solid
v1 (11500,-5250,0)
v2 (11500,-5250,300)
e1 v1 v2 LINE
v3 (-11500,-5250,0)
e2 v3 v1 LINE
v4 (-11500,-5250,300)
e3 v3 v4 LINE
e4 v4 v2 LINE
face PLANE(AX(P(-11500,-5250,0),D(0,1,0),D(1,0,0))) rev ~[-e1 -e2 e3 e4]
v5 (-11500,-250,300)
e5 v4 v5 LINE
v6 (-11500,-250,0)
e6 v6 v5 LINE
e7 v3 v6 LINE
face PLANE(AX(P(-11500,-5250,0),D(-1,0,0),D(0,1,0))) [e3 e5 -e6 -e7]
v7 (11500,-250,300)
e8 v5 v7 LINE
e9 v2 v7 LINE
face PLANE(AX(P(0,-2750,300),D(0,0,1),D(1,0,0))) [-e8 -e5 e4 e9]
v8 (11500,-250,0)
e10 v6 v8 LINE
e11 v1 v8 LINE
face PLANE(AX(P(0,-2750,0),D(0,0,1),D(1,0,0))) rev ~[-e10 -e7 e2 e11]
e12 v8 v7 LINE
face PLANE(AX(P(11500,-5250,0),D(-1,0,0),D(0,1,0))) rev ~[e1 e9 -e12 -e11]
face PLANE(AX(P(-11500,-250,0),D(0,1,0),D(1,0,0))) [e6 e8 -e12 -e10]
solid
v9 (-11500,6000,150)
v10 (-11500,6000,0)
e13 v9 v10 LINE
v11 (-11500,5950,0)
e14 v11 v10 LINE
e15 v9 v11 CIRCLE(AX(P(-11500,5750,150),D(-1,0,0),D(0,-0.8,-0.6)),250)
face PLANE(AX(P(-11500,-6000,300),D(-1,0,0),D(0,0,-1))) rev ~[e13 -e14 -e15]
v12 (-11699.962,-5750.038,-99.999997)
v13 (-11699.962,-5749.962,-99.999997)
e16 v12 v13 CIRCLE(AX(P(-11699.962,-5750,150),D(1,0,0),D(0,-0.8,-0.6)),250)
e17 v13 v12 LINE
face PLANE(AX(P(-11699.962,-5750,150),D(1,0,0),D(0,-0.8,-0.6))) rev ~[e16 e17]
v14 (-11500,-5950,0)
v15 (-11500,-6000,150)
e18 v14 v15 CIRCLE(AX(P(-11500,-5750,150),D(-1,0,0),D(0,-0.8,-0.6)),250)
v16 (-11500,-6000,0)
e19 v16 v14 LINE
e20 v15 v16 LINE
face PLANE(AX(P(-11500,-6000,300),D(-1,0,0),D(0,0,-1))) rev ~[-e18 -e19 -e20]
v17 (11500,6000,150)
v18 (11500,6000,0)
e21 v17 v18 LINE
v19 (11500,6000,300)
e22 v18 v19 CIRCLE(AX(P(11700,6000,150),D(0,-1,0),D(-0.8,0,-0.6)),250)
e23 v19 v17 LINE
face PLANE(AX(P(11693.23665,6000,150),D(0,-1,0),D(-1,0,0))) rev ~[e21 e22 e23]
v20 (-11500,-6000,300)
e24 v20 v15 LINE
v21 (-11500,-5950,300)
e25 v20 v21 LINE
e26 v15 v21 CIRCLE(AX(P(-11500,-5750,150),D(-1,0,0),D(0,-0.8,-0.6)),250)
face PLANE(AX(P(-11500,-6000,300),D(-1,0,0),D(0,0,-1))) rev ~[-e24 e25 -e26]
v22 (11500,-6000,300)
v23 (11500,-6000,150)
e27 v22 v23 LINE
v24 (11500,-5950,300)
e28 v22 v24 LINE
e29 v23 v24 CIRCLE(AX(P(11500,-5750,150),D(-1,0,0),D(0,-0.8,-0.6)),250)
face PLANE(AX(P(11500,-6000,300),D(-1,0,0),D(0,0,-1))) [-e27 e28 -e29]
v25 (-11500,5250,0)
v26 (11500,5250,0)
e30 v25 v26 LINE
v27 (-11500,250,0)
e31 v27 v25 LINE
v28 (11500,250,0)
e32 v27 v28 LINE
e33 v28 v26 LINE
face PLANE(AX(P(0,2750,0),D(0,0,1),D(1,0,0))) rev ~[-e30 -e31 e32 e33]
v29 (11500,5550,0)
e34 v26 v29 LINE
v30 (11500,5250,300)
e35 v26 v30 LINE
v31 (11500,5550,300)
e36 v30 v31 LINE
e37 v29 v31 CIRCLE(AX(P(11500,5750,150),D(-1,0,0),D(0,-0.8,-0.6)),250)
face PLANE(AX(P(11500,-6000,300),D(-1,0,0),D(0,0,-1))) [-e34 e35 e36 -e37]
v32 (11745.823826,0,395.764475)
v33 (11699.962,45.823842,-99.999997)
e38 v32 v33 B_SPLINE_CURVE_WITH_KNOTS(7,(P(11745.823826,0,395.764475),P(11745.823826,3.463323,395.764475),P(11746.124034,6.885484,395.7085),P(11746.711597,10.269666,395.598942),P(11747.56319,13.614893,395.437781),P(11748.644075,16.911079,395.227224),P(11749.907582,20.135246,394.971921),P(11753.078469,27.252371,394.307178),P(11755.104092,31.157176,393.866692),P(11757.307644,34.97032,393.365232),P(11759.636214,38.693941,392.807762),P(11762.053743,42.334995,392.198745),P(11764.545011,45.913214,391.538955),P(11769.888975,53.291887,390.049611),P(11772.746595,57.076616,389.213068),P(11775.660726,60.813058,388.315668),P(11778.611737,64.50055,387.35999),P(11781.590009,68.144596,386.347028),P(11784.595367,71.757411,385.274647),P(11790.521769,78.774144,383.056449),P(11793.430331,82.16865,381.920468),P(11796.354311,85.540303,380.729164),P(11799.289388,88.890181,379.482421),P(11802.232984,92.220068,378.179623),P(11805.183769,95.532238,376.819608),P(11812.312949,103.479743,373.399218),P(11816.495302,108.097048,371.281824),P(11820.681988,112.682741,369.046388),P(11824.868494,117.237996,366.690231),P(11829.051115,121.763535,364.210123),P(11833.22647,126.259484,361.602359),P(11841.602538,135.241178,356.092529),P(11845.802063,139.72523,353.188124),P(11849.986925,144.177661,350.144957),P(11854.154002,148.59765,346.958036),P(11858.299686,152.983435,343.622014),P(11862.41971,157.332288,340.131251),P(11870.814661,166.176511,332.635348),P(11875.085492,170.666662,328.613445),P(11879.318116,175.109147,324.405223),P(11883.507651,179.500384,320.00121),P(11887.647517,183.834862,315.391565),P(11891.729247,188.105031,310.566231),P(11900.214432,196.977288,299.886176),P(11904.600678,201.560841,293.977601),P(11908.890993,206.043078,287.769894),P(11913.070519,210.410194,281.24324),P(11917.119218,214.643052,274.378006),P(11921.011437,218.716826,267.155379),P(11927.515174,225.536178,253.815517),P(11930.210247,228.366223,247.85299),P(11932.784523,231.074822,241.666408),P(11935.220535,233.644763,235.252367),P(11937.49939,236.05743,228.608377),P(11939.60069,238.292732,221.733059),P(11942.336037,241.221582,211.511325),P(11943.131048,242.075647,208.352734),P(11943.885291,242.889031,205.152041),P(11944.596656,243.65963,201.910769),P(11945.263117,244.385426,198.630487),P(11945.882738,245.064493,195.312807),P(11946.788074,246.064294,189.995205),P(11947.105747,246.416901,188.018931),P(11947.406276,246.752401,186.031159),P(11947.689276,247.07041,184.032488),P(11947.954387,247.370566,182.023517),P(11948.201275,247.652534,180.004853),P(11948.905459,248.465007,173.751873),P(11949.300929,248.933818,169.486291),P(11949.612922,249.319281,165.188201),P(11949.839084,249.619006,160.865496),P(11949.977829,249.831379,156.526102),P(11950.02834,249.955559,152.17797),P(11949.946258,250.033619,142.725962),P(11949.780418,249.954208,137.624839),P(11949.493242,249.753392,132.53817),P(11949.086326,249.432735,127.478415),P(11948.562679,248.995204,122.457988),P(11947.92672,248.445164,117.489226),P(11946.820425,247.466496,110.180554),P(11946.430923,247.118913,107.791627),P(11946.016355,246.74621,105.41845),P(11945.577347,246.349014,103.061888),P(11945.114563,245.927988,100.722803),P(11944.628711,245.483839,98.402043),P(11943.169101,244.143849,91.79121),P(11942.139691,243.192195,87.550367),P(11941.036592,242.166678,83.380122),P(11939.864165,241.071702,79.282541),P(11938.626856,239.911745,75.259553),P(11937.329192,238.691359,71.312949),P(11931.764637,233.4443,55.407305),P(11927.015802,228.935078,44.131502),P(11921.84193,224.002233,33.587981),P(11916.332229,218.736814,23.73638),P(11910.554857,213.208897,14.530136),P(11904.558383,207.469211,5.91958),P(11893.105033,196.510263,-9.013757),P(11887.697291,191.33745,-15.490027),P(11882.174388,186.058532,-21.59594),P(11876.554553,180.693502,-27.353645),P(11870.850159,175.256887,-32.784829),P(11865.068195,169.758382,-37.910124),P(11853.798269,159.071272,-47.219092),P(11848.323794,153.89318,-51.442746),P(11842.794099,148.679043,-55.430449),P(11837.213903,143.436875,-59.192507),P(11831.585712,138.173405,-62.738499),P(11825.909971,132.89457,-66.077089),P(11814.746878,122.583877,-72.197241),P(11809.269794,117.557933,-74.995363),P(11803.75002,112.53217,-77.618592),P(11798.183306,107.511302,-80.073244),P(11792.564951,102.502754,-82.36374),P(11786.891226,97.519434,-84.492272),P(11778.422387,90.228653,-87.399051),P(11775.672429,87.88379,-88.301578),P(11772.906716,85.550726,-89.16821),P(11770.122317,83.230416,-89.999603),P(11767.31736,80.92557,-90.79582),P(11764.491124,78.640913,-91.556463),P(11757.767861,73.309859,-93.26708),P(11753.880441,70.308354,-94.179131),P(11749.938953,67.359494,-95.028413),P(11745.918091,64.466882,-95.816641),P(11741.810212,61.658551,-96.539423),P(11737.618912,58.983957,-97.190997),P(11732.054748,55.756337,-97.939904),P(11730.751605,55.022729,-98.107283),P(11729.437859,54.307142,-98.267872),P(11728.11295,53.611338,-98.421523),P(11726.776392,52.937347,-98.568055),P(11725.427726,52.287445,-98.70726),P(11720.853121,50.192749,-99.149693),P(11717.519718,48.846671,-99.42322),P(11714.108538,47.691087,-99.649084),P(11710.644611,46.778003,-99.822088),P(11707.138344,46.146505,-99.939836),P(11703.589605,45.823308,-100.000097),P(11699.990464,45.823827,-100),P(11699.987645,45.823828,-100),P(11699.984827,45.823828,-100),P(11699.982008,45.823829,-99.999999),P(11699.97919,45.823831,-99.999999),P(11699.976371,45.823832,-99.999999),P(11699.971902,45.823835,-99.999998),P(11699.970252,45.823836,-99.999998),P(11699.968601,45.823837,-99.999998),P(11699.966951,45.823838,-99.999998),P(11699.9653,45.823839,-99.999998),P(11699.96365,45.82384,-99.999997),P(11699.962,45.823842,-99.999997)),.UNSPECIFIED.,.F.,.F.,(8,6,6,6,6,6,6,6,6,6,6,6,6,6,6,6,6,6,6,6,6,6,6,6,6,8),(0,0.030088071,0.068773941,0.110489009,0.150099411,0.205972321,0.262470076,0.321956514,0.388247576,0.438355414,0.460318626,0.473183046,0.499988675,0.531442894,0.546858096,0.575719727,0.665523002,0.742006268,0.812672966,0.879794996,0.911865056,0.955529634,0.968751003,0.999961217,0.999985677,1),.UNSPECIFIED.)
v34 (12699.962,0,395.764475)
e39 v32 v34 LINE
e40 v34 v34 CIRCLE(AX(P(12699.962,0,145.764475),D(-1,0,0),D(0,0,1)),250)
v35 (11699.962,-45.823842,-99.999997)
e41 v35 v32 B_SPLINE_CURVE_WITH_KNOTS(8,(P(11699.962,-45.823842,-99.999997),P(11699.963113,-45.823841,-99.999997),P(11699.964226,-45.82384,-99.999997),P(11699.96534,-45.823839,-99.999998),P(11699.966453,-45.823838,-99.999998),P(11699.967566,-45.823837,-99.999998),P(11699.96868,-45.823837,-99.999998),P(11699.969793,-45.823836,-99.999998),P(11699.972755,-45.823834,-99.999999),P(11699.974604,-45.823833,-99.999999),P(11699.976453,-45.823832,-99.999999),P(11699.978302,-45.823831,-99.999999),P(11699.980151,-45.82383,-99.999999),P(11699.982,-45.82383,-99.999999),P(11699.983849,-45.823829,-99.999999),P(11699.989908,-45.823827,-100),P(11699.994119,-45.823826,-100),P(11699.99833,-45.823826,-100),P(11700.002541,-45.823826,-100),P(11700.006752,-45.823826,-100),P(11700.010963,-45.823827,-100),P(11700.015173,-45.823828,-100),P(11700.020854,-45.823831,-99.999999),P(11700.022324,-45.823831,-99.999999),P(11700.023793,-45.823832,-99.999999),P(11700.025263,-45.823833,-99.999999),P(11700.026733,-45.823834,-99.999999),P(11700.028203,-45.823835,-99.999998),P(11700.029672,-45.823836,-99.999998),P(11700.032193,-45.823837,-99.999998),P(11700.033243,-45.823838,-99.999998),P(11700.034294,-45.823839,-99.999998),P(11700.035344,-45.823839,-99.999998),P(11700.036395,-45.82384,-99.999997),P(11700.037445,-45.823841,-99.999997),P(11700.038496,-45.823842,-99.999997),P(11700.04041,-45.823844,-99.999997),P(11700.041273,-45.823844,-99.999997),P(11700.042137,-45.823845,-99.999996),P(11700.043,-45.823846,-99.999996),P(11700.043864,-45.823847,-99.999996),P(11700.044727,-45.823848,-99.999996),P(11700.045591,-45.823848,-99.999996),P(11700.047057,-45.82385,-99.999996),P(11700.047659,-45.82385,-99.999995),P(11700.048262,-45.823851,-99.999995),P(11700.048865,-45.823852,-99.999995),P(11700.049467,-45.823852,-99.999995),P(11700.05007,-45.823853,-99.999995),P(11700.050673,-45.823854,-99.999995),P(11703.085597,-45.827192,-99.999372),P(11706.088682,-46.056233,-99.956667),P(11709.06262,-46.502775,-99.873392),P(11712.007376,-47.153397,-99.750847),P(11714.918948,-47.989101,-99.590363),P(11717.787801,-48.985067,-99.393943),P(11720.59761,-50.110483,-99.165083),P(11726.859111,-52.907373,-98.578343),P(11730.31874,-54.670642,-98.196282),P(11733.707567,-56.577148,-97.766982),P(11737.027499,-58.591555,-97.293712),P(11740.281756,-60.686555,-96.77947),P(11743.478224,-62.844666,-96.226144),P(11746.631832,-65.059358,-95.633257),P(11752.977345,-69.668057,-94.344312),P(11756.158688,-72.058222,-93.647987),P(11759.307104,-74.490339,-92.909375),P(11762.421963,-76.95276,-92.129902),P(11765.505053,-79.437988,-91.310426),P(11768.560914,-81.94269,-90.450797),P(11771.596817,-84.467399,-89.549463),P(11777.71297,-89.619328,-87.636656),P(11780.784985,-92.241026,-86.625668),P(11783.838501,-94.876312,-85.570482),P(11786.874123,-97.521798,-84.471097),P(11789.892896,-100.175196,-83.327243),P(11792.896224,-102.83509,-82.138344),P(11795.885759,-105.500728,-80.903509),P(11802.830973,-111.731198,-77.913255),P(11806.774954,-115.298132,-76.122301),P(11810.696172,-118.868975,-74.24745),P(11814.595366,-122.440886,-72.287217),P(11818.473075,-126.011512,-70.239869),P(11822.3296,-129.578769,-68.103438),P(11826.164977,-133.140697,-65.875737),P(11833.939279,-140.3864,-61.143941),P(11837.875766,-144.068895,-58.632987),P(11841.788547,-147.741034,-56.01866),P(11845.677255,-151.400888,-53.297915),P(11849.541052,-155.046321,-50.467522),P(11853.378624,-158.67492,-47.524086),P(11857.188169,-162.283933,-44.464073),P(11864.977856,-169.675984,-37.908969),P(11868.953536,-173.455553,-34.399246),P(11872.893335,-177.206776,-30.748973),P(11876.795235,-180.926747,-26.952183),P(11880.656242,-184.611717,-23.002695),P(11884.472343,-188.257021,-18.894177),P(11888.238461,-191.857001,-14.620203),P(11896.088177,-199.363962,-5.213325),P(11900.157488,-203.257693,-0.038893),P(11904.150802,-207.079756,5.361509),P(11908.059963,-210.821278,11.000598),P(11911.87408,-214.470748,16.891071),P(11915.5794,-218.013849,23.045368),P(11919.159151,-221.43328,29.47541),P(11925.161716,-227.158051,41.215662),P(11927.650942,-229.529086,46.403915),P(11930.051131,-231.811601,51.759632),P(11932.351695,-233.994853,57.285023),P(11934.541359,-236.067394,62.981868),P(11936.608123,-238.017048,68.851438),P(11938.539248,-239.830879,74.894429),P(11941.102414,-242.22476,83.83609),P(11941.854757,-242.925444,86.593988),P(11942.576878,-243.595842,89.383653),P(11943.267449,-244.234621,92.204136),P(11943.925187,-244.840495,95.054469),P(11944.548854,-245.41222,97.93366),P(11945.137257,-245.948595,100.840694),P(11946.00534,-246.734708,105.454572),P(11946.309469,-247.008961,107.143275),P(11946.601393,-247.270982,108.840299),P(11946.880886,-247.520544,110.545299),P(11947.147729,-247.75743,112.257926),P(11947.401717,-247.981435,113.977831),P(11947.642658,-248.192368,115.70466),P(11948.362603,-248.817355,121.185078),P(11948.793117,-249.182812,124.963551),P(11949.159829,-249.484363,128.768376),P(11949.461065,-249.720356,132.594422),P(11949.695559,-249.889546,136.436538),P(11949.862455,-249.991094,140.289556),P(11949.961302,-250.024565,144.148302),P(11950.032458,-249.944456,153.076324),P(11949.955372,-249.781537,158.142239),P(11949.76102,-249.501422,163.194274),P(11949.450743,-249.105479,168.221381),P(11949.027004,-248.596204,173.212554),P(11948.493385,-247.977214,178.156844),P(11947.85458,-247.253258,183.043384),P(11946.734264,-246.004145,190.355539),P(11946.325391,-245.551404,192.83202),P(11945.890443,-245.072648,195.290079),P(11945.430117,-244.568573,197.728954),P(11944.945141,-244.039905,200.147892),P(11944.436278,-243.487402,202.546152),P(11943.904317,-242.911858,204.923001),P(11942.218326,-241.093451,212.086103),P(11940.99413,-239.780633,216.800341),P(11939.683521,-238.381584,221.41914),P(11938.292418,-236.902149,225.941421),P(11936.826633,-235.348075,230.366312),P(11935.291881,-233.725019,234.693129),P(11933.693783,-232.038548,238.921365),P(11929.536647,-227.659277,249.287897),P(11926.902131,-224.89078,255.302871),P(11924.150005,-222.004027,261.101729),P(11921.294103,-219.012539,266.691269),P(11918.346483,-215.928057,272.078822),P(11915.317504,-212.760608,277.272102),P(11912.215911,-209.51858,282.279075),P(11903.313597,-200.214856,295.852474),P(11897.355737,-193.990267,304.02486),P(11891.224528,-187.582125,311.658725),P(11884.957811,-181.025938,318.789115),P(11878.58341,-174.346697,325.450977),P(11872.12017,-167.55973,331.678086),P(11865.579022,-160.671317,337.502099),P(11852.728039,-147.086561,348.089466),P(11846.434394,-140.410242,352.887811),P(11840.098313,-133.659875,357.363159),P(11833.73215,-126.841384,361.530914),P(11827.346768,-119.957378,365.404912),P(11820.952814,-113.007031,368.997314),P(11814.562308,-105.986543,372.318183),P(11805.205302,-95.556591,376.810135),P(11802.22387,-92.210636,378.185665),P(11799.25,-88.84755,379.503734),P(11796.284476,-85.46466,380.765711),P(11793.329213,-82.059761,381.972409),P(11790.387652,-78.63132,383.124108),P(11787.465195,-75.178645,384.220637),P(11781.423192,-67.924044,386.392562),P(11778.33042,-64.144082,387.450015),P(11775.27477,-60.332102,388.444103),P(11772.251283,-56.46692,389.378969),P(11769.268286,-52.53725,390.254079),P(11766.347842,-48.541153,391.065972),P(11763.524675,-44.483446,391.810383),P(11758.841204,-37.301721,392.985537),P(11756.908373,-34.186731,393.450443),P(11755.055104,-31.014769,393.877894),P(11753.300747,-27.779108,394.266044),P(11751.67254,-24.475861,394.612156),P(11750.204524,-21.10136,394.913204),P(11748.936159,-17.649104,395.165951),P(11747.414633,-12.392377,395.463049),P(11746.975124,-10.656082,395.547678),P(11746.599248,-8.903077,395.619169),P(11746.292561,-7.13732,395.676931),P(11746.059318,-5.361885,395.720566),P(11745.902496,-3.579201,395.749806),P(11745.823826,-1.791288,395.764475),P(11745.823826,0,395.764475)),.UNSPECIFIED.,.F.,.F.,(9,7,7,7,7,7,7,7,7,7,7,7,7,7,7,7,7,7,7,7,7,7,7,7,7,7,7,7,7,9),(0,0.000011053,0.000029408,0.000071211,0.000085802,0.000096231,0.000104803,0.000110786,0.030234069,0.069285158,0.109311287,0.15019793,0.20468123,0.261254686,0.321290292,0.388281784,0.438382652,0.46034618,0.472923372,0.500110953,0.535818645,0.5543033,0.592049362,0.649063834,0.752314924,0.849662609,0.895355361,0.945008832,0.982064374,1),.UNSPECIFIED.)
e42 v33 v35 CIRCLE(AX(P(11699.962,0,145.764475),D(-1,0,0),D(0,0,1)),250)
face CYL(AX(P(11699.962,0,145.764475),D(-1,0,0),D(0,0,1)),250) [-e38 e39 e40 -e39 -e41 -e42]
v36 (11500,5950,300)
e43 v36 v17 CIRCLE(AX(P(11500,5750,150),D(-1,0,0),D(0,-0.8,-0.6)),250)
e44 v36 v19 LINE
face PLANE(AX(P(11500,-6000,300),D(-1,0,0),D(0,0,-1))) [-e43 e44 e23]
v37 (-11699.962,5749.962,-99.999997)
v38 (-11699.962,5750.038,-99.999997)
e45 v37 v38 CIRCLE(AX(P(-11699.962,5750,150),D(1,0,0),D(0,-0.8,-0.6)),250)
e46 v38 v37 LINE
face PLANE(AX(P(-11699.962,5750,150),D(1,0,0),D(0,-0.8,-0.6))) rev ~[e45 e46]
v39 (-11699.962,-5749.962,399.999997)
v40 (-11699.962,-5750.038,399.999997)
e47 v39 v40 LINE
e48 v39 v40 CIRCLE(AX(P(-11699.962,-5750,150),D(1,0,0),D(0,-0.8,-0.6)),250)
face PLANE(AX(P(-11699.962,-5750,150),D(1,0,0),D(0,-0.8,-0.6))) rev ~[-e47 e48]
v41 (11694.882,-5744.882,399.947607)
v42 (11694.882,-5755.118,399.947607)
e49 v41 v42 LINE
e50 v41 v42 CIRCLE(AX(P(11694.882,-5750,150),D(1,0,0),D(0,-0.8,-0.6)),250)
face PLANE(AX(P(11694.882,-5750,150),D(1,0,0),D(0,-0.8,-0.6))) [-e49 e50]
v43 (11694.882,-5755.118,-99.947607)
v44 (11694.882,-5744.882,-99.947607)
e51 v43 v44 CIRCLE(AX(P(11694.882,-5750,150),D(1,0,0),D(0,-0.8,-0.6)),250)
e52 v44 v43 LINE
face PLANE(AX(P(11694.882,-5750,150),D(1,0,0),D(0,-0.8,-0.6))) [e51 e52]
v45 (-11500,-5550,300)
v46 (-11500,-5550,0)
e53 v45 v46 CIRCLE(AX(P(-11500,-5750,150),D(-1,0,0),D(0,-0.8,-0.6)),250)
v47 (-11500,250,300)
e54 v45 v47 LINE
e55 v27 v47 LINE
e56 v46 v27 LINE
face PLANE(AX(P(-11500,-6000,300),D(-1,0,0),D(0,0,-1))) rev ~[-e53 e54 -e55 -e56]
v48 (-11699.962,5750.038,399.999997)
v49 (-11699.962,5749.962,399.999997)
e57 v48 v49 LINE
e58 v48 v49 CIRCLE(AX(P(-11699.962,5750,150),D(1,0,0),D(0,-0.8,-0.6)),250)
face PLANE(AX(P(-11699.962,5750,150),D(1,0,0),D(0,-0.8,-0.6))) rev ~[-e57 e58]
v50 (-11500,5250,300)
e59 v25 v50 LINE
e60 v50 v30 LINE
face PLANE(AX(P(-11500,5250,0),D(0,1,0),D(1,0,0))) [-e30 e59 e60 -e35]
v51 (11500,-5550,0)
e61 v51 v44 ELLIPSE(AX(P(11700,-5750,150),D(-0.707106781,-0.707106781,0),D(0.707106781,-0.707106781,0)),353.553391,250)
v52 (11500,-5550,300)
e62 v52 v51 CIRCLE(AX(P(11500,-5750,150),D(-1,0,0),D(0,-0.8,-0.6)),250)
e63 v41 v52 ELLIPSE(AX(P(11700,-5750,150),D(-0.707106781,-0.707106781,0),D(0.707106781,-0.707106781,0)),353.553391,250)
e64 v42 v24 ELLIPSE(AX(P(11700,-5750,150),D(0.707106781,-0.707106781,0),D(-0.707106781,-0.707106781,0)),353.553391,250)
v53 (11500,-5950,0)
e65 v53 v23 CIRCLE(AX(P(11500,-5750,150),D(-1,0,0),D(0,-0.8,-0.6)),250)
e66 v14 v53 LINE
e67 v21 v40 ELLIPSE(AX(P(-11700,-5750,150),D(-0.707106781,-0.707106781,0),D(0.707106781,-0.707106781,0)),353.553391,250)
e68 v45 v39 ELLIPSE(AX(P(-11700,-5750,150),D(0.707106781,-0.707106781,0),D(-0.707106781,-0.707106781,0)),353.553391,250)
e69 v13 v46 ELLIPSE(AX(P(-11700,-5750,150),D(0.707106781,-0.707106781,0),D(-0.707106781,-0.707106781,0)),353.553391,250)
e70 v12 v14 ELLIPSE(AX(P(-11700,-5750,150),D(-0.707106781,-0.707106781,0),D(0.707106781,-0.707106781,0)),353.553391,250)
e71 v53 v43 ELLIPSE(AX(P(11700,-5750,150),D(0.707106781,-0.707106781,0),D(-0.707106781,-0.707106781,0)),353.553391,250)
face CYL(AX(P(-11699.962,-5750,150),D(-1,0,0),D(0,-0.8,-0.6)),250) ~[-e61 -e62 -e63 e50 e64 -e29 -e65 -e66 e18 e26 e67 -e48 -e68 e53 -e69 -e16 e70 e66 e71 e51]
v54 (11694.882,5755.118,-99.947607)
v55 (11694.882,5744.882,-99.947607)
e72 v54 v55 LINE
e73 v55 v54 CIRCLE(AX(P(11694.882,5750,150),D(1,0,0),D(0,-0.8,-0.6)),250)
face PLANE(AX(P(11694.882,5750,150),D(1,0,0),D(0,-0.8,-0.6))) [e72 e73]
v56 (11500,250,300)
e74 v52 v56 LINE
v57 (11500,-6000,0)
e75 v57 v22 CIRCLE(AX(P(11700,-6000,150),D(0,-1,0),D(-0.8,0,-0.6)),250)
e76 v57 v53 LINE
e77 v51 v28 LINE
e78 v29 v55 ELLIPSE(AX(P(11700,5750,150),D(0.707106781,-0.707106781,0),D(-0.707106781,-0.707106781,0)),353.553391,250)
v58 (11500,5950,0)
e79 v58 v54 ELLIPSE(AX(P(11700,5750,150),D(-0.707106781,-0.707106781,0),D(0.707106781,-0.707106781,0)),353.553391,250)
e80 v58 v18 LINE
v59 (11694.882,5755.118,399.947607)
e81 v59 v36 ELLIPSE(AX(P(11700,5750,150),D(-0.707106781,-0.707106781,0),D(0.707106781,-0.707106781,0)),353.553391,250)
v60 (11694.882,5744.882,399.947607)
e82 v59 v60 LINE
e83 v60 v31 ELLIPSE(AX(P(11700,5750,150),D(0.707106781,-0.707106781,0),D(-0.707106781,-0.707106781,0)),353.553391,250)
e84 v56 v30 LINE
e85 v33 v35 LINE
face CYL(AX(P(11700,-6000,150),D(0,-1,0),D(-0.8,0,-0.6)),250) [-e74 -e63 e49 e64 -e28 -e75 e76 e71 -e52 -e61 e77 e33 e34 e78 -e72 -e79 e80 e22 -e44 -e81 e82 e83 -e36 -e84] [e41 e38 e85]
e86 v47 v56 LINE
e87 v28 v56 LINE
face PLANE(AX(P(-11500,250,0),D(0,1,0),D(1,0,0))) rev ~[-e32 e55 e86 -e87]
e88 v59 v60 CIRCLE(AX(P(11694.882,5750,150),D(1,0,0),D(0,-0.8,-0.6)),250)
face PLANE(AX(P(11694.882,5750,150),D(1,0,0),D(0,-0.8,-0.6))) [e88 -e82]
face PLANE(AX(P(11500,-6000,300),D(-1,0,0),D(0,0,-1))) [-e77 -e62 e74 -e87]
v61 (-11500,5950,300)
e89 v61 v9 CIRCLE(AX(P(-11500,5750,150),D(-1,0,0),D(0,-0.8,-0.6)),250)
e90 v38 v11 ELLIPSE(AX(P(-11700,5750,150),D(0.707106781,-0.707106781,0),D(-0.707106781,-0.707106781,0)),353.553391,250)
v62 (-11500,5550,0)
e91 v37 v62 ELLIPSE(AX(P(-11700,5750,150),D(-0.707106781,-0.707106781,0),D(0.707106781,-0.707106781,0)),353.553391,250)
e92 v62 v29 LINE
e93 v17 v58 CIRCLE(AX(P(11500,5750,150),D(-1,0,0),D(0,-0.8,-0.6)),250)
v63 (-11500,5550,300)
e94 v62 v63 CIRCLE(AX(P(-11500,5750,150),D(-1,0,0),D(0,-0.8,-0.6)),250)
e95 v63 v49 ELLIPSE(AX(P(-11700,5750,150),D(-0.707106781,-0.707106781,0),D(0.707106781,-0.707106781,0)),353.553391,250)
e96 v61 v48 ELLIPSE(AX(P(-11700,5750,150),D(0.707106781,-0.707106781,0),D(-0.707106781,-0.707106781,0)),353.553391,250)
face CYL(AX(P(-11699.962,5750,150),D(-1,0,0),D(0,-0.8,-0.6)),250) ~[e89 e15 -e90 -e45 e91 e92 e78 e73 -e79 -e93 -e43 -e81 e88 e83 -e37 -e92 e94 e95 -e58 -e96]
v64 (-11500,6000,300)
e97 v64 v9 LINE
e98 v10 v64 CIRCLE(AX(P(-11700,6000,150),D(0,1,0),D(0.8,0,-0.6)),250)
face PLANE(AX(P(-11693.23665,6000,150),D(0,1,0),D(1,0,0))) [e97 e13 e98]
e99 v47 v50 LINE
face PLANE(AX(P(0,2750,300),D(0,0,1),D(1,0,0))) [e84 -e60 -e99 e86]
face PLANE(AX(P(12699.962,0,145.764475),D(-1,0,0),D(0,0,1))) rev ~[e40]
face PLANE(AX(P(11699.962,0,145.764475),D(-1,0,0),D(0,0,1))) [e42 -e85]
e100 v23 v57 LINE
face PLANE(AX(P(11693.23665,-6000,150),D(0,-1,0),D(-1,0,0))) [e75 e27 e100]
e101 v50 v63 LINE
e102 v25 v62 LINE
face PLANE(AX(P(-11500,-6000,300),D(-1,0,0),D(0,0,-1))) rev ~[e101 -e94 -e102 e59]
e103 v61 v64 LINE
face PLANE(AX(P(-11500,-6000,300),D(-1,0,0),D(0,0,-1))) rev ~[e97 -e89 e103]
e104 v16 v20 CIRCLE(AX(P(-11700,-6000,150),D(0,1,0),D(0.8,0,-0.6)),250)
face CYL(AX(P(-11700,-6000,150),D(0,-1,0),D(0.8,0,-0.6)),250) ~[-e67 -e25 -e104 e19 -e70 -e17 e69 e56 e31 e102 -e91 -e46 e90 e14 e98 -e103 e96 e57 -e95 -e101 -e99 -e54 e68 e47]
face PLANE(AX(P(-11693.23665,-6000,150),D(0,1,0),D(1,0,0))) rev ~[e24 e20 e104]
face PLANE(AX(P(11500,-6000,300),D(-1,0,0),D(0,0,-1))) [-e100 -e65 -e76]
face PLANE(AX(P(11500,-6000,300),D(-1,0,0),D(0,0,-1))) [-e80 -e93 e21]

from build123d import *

# Parameters (mm, degrees)
SKETCH1_W                = 23000
SKETCH1_H                = 5000
BOSS_EXTRUDE1_DEPTH      = 300
BOSS_EXTRUDE1_2_DEPTH    = 300
BOSS_EXTRUDE2_DEPTH      = 6000
BOSS_EXTRUDE2_DEPTH_BACK = 6000
BOSS_EXTRUDE3_DEPTH      = 23194.882000034
BOSS_EXTRUDE3_DEPTH_BACK = 199.962000126
SKETCH4_R                = 250
BOSS_EXTRUDE4_START      = -199.962000126
SKETCH5_R                = 250
BOSS_EXTRUDE4_DEPTH      = 1000


with BuildPart() as part:
    # Sketch1 → Boss-Extrude1 (new body)
    with BuildSketch(Plane.XY):
        with Locations((0, 2750)):
            Rectangle(SKETCH1_W, SKETCH1_H)
    extrude(amount=BOSS_EXTRUDE1_DEPTH)

    # Sketch2 → Boss-Extrude2 (add, two sides: drawn at the far end of the back side and taken through both)
    with BuildSketch(Plane(origin=(0, 0, 0), x_dir=(1, 0, 0), z_dir=(0, 1, 0)).offset(-BOSS_EXTRUDE2_DEPTH_BACK)):
        with BuildLine():
            ThreePointArc((11500, 0), (11950, -150), (11500, -300))
            Line((11500, -300), (11500, 0))
        make_face()
        with BuildLine():
            ThreePointArc((-11500, 0), (-11950, -150), (-11500, -300))
            Line((-11500, -300), (-11500, 0))
        make_face()
    extrude(amount=BOSS_EXTRUDE2_DEPTH + BOSS_EXTRUDE2_DEPTH_BACK)

    # Sketch4 → Boss-Extrude3 (add, two sides: drawn at the far end of the back side and taken through both)
    with BuildSketch(Plane(origin=(-11500, 0, 0), x_dir=(0, 0, -1), z_dir=(1, 0, 0)).offset(-BOSS_EXTRUDE3_DEPTH_BACK)):
        with Locations(Location((-150, 5750, 0), (0, 0, 306.869897646))):
            Circle(SKETCH4_R)
        with Locations(Location((-150, -5750, 0), (0, 0, 306.869897646))):
            Circle(SKETCH4_R)
    extrude(amount=BOSS_EXTRUDE3_DEPTH + BOSS_EXTRUDE3_DEPTH_BACK)

    # Sketch5 → Boss-Extrude4 (add)
    with BuildSketch(Plane.ZY.offset(-11500).offset(BOSS_EXTRUDE4_START)):
        with Locations((145.764474573, 0)):
            Circle(SKETCH5_R)
    extrude(amount=-BOSS_EXTRUDE4_DEPTH)


with BuildPart() as body_2:
    # Sketch1 → Boss-Extrude1 2 (new body)
    with BuildSketch(Plane.XY):
        with Locations((0, -2750)):
            Rectangle(SKETCH1_W, SKETCH1_H)
    extrude(amount=BOSS_EXTRUDE1_2_DEPTH)


solid = Compound([part.part, body_2.part])
